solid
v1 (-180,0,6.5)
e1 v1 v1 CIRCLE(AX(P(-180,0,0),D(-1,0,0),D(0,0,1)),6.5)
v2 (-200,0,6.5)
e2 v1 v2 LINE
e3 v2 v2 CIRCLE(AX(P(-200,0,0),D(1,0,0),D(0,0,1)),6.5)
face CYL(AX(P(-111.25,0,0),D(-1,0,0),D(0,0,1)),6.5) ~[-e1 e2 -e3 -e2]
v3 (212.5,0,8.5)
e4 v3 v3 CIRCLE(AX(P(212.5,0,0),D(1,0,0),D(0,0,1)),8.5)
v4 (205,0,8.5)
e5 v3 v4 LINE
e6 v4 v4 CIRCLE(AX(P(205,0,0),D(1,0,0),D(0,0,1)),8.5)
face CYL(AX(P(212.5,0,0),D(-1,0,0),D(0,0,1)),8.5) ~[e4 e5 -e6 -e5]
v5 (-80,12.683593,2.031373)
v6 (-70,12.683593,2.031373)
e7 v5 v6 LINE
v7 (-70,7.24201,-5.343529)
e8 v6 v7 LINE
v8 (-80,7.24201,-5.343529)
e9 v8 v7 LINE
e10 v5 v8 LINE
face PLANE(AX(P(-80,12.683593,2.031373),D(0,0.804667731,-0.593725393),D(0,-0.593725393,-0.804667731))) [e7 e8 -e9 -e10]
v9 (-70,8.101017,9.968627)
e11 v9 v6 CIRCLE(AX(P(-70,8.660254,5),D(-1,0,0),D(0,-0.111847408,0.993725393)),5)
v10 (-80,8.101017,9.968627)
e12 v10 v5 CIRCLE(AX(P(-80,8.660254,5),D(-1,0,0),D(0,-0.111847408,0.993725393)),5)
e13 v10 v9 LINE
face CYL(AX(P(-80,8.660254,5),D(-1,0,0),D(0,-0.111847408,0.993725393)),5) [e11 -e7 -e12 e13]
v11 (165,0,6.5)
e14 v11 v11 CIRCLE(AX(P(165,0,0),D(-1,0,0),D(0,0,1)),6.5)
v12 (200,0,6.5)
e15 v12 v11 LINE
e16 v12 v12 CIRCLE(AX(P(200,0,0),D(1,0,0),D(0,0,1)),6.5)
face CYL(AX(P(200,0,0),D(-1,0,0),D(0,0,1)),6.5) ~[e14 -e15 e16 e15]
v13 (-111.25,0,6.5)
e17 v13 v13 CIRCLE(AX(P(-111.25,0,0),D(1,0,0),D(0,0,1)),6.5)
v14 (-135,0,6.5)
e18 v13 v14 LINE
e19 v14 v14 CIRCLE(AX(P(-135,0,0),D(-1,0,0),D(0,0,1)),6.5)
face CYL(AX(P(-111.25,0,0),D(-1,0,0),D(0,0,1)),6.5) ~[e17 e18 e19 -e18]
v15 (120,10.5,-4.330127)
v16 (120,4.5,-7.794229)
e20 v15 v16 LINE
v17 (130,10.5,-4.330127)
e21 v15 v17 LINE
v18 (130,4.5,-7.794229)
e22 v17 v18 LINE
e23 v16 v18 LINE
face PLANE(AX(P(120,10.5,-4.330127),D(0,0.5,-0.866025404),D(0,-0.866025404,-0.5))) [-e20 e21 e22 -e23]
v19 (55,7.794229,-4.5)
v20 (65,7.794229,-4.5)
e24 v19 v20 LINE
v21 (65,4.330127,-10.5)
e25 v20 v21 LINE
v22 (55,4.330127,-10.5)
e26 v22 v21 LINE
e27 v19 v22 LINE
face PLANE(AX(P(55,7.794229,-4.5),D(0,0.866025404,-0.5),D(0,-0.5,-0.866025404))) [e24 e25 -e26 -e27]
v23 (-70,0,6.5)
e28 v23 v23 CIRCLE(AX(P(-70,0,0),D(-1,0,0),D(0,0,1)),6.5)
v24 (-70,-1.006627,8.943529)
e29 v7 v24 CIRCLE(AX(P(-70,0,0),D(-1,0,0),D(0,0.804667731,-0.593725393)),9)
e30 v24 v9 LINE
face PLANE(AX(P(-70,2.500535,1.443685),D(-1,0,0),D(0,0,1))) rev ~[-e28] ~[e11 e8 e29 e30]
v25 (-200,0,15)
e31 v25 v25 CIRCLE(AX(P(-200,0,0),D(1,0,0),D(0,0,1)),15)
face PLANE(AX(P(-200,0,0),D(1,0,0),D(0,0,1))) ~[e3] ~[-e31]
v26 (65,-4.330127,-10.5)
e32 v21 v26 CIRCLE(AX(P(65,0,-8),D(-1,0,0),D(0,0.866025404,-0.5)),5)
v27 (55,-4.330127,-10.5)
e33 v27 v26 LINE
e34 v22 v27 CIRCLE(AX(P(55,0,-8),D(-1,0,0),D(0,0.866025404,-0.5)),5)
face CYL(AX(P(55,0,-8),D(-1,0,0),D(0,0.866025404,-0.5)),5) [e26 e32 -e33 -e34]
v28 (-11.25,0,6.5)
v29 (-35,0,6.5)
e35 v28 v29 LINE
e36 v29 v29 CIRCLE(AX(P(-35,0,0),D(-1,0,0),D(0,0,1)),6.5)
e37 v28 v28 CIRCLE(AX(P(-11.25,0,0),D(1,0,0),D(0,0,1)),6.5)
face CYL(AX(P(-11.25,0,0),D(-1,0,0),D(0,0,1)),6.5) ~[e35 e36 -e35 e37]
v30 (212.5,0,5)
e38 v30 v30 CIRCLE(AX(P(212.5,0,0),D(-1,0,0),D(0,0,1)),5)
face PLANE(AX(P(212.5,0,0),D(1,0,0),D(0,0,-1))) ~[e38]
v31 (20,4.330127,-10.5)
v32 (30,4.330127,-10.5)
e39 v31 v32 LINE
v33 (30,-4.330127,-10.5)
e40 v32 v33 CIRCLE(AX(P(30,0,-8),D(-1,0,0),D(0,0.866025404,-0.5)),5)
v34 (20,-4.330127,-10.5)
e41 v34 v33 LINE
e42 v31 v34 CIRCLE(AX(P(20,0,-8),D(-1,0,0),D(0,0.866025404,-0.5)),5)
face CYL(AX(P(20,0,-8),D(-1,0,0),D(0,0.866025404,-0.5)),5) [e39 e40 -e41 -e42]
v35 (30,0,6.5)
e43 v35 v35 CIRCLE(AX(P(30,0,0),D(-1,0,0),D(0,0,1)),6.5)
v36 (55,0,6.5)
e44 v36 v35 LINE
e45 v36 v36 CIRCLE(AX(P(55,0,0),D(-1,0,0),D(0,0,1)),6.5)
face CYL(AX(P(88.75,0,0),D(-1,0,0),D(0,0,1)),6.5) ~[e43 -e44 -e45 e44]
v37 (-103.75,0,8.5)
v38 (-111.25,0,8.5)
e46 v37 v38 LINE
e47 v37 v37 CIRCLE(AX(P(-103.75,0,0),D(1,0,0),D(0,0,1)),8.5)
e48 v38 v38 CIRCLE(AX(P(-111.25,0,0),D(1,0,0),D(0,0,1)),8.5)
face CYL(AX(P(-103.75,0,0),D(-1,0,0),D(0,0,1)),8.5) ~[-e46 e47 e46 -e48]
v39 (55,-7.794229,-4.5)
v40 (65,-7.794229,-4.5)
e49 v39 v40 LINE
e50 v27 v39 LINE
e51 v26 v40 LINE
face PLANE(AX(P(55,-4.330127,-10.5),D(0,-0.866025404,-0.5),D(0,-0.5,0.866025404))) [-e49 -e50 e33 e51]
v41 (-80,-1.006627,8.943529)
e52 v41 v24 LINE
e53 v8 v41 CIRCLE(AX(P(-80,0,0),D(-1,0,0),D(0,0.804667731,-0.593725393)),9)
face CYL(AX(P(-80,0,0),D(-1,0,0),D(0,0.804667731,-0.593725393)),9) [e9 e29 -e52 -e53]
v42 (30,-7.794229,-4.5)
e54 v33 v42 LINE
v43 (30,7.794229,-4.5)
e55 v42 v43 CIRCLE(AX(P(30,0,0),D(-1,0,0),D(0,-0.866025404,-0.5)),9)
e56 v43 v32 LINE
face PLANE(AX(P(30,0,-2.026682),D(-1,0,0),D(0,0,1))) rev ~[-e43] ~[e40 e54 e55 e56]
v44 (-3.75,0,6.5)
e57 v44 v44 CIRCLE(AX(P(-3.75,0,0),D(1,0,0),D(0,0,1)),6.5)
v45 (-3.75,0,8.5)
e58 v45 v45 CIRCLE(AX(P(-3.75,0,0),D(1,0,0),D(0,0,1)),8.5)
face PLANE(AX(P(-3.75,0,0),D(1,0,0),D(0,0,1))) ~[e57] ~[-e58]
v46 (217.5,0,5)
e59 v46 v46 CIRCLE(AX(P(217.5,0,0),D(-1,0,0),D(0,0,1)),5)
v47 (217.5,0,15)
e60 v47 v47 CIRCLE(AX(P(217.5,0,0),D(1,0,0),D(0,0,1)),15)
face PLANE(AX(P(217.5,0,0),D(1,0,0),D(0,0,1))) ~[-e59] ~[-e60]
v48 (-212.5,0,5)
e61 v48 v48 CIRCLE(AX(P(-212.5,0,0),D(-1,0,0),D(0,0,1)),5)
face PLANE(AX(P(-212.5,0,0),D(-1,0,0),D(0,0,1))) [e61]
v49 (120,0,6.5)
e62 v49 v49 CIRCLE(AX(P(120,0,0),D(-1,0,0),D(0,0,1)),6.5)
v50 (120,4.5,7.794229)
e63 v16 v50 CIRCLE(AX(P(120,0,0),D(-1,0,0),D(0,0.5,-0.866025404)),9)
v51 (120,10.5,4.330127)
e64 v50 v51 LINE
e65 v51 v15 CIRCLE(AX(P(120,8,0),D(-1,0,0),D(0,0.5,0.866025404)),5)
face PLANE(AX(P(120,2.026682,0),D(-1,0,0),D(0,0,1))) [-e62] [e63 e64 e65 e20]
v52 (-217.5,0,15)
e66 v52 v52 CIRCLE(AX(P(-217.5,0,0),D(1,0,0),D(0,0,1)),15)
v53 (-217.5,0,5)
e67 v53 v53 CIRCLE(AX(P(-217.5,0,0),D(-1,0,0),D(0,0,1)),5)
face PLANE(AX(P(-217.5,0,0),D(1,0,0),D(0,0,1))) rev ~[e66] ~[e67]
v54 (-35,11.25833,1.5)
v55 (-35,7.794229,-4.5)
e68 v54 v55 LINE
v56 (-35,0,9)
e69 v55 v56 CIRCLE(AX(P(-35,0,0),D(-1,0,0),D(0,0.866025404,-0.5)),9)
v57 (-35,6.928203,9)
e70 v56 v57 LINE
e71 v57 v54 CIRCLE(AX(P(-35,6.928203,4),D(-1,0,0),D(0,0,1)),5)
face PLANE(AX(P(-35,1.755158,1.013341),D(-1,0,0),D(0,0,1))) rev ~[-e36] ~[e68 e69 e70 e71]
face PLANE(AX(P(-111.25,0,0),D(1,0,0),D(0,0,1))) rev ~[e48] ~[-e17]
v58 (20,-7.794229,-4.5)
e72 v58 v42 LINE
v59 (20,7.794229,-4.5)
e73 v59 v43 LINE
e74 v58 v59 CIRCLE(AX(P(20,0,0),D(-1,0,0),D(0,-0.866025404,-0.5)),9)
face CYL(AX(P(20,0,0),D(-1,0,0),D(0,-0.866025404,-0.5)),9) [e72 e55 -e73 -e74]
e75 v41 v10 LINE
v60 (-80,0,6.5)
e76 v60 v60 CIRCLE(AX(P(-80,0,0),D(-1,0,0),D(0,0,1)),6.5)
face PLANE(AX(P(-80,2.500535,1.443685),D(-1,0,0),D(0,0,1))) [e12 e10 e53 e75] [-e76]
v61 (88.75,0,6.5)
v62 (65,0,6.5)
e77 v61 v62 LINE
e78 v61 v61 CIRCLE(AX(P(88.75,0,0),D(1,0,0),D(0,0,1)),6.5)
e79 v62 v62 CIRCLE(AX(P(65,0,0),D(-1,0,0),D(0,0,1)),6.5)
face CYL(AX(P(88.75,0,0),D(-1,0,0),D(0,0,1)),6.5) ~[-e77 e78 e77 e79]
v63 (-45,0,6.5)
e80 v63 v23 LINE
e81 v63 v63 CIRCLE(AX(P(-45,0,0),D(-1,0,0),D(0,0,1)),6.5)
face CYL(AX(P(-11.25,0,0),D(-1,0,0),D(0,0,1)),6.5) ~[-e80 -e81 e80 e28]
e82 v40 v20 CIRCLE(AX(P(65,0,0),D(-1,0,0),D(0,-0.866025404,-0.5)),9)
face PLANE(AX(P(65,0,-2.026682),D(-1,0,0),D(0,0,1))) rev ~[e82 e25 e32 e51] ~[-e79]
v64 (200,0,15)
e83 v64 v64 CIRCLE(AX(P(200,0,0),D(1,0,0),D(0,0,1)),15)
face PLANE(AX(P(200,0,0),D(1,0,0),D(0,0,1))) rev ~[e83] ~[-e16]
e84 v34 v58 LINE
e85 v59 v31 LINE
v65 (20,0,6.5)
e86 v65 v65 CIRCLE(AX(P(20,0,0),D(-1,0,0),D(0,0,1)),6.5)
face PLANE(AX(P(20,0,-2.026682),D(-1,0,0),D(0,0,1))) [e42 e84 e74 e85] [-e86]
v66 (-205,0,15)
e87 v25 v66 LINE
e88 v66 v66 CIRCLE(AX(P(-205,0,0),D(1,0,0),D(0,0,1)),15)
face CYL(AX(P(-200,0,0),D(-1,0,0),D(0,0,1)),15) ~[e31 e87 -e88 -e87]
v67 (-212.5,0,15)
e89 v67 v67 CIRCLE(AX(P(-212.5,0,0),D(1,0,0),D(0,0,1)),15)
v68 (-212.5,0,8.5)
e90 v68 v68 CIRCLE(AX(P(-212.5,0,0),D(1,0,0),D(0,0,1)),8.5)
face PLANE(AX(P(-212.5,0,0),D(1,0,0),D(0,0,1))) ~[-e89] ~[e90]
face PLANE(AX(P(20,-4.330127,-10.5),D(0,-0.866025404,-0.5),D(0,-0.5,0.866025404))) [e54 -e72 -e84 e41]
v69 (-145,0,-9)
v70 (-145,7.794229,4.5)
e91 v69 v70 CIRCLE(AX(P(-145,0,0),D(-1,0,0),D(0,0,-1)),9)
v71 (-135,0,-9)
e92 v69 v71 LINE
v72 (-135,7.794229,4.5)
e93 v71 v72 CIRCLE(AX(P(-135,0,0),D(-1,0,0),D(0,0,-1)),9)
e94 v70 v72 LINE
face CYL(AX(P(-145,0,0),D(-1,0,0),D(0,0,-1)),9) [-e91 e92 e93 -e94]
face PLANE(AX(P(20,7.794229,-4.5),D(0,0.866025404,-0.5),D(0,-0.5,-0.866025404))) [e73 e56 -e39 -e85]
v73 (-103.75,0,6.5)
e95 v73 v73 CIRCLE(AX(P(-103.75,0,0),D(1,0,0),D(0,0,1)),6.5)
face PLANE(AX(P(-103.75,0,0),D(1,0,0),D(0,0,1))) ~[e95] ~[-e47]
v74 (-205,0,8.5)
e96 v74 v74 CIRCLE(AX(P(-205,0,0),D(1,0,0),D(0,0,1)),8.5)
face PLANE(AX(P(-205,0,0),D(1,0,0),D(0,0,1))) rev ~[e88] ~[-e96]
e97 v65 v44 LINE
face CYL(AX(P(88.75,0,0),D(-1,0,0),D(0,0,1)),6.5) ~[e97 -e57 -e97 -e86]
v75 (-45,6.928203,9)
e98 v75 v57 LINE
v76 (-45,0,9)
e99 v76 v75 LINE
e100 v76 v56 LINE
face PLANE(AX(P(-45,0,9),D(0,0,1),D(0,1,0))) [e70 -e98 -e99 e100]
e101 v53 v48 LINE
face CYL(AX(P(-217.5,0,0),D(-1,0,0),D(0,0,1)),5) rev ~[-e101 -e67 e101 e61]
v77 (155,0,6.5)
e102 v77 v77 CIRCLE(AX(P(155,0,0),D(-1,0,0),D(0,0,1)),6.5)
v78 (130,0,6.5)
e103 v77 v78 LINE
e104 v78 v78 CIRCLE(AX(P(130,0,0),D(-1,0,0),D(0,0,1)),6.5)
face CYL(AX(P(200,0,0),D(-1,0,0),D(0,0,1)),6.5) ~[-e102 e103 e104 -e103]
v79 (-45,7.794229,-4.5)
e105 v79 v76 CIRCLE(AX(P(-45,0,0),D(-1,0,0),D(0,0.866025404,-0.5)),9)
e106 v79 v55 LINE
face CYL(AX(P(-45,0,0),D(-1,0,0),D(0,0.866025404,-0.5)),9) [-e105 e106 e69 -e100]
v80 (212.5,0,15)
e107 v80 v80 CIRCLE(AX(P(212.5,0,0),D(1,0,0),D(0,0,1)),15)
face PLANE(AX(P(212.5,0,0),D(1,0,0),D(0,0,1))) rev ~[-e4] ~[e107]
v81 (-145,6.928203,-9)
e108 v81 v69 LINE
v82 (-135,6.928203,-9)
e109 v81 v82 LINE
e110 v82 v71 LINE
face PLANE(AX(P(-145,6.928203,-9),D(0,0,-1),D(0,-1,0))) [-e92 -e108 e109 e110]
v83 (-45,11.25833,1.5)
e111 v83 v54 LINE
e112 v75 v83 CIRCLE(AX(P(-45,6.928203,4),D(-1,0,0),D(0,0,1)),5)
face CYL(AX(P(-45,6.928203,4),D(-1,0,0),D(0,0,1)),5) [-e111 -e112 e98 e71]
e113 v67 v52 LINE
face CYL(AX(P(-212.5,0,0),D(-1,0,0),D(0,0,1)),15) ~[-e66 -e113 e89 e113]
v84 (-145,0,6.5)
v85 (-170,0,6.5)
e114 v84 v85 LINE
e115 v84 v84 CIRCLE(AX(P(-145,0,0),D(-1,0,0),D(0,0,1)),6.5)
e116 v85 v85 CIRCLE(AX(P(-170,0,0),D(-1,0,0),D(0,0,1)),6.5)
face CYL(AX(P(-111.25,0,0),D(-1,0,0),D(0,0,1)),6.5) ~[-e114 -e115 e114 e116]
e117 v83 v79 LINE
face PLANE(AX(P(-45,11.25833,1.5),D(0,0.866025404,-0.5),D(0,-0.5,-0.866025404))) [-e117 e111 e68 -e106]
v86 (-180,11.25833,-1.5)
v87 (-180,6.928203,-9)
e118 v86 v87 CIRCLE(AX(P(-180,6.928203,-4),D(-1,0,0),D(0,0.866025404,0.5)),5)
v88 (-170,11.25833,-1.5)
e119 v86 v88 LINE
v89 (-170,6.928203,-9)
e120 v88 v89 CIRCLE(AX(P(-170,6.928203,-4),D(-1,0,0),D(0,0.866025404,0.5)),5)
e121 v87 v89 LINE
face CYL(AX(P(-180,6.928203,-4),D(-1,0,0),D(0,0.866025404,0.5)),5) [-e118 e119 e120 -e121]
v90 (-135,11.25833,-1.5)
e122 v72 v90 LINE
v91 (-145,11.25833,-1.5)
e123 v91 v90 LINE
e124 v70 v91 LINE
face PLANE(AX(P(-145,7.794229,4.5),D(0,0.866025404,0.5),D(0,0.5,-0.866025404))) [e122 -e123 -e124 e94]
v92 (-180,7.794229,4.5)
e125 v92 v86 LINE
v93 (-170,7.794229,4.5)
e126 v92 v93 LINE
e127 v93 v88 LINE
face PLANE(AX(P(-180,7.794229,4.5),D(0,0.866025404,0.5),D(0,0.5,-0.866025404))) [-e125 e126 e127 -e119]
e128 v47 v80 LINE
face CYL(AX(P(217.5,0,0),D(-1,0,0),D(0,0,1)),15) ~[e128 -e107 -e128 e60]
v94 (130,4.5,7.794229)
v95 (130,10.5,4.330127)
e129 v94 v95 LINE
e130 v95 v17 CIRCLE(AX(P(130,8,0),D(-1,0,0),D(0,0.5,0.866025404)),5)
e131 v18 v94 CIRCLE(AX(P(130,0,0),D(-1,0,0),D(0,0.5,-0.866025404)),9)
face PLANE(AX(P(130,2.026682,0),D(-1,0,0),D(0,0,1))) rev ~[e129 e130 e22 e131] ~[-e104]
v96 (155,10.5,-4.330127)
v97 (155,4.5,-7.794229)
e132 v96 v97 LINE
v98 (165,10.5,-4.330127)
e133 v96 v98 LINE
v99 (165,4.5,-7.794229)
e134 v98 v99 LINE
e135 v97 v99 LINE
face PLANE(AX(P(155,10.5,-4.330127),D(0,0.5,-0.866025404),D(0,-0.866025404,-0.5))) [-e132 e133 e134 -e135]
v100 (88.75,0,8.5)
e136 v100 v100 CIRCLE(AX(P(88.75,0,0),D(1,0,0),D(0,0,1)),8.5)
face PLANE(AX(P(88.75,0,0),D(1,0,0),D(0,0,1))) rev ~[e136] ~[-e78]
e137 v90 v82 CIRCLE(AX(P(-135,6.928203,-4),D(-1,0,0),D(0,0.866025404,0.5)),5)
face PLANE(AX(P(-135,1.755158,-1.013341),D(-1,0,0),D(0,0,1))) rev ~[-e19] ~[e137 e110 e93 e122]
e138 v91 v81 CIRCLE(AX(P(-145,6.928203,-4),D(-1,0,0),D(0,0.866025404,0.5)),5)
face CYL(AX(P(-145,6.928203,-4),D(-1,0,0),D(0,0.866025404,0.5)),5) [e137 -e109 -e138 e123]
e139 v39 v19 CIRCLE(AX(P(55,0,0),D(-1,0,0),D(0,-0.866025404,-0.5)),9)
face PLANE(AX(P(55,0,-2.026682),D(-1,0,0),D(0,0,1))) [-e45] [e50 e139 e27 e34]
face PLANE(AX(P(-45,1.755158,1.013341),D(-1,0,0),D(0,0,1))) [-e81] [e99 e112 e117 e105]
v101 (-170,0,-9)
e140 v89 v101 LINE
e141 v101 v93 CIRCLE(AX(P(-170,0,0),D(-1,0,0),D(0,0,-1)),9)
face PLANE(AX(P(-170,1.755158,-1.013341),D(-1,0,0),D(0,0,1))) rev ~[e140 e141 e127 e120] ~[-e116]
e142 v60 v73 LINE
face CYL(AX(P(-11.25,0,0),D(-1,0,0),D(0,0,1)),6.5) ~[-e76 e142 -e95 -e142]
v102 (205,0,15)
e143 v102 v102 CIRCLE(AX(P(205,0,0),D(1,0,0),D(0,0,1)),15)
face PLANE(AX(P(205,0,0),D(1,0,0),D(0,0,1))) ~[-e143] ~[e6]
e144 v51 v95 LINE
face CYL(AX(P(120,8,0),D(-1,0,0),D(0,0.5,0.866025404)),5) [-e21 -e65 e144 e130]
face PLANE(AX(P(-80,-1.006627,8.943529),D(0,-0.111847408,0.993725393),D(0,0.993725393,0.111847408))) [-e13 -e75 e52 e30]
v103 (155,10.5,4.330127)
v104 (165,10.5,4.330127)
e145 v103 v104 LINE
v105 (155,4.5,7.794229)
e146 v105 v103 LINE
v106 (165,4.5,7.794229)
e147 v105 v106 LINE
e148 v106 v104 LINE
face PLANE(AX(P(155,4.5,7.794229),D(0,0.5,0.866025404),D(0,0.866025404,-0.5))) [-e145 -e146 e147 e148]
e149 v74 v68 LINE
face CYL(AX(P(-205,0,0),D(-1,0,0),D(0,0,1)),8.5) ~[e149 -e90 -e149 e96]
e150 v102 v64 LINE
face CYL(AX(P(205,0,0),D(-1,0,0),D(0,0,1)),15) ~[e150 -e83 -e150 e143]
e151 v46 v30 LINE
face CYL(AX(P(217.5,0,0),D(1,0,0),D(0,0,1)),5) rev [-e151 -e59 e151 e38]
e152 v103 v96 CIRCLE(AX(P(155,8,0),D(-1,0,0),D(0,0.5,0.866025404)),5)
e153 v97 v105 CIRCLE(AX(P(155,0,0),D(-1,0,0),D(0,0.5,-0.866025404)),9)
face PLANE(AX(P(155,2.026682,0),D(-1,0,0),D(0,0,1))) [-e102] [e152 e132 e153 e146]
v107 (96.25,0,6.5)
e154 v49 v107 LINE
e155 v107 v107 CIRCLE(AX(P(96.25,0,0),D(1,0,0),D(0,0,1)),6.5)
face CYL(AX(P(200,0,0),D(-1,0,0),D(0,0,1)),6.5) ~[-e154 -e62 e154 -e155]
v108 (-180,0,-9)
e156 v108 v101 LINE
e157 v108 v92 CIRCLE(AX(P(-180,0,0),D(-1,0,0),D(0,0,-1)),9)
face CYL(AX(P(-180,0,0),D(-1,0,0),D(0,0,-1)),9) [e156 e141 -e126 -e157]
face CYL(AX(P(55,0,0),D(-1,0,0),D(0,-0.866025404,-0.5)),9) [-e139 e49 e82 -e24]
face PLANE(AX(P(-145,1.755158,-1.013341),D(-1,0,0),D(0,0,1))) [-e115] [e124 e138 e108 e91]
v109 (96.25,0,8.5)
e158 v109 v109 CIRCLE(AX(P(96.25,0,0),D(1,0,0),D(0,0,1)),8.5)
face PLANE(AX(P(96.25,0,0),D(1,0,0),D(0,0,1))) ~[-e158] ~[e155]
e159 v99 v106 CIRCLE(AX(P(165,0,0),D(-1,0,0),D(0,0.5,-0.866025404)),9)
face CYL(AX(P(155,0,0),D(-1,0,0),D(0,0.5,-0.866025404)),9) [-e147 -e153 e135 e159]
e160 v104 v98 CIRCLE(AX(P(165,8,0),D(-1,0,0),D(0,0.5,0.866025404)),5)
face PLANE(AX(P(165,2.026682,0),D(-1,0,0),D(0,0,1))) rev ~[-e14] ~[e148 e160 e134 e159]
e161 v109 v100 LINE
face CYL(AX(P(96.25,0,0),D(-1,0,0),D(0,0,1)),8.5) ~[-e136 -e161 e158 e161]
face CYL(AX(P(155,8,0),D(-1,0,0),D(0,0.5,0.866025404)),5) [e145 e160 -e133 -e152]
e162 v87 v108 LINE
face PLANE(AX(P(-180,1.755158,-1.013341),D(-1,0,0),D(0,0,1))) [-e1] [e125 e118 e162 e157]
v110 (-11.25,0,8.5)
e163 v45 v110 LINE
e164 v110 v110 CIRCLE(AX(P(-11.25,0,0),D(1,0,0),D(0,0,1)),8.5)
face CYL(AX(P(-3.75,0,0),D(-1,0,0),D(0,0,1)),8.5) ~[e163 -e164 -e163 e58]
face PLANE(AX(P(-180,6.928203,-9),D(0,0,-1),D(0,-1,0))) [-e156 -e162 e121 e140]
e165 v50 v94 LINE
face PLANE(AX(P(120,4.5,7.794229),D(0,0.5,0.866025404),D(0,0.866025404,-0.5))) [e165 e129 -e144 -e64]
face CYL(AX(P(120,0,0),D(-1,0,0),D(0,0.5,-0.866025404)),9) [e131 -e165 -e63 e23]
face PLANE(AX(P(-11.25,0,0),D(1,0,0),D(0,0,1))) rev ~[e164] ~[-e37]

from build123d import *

# Parameters (mm, degrees)
BOSS_EXTRUDE1_DEPTH      = 5
BOSS_EXTRUDE1_DEPTH_BACK = 5
BOSS_EXTRUDE2_DEPTH      = 5
BOSS_EXTRUDE2_DEPTH_BACK = 5
BOSS_EXTRUDE3_DEPTH      = 5
BOSS_EXTRUDE3_DEPTH_BACK = 5
BOSS_EXTRUDE4_DEPTH      = 5
BOSS_EXTRUDE4_DEPTH_BACK = 5
BOSS_EXTRUDE5_DEPTH      = 5
BOSS_EXTRUDE5_DEPTH_BACK = 5
BOSS_EXTRUDE6_DEPTH      = 5
BOSS_EXTRUDE6_DEPTH_BACK = 5
BOSS_EXTRUDE7_DEPTH      = 5
BOSS_EXTRUDE7_DEPTH_BACK = 5
BOSS_EXTRUDE8_DEPTH      = 5
BOSS_EXTRUDE8_DEPTH_BACK = 5
SKETCH12_R               = 5
CUT_EXTRUDE1_DEPTH       = 5


with BuildPart() as part:
    # Sketch2 → Revolve1 (revolve)
    with BuildSketch(Plane(origin=(0, 0, 0), x_dir=(1, 0, 0), z_dir=(0, 1, 0)), mode=Mode.PRIVATE) as revolve1_sk:
        Polygon((-217.5, 0), (217.5, 0), (217.5, 15), (212.5, 15), (212.5, 8.5), (205, 8.5), (205, 15), (200, 15), (200, 6.5), (96.25, 6.5), (96.25, 8.5), (88.75, 8.5), (88.75, 6.5), (-3.75, 6.5), (-3.75, 8.5), (-11.25, 8.5), (-11.25, 6.5), (-103.75, 6.5), (-103.75, 8.5), (-111.25, 8.5), (-111.25, 6.5), (-200, 6.5), (-200, 15), (-205, 15), (-205, 8.5), (-212.5, 8.5), (-212.5, 15), (-217.5, 15), (-217.5, 6.5), align=None)
    revolve(revolve1_sk.sketch.rotate(Axis((-217.5, 0, 0), (1, 0, 0)), 180), axis=Axis((-217.5, 0, 0), (1, 0, 0)))

    # Sketch4 → Boss-Extrude1 (add, two sides: drawn at the far end of the back side and taken through both)
    with BuildSketch(Plane(origin=(-175, 0, 0), x_dir=(0, 0, -1), z_dir=(1, 0, 0)).offset(-BOSS_EXTRUDE1_DEPTH_BACK)):
        with BuildLine():
            Line((-4.5, 7.794228634), (1.5, 11.258330249))
            ThreePointArc((1.5, 11.258330249), (6.5, 11.258330249), (9, 6.92820323))
            Line((9, 6.92820323), (9, 0))
            ThreePointArc((9, 0), (-4.5, -7.794228634), (-4.5, 7.794228634))
        make_face()
    extrude(amount=BOSS_EXTRUDE1_DEPTH + BOSS_EXTRUDE1_DEPTH_BACK)

    # Sketch5 → Boss-Extrude2 (add, two sides: drawn at the far end of the back side and taken through both)
    with BuildSketch(Plane(origin=(-140, 0, 0), x_dir=(0, 0, -1), z_dir=(1, 0, 0)).offset(-BOSS_EXTRUDE2_DEPTH_BACK)):
        with BuildLine():
            Line((-4.5, 7.794228634), (1.5, 11.258330249))
            ThreePointArc((1.5, 11.258330249), (6.5, 11.258330249), (9, 6.92820323))
            Line((9, 6.92820323), (9, 0))
            ThreePointArc((9, 0), (-4.5, -7.794228634), (-4.5, 7.794228634))
        make_face()
    extrude(amount=BOSS_EXTRUDE2_DEPTH + BOSS_EXTRUDE2_DEPTH_BACK)

    # Sketch6 → Boss-Extrude3 (add, two sides: drawn at the far end of the back side and taken through both)
    with BuildSketch(Plane(origin=(-75, 0, 0), x_dir=(0, 0, -1), z_dir=(1, 0, 0)).offset(-BOSS_EXTRUDE3_DEPTH_BACK)):
        with BuildLine():
            Line((-8.94352854, -1.006626672), (-9.968626967, 8.101016998))
            ThreePointArc((-9.968626967, 8.101016998), (-7.5, 12.990381057), (-2.031373033, 12.683592693))
            Line((-2.031373033, 12.683592693), (5.34352854, 7.242009579))
            ThreePointArc((5.34352854, 7.242009579), (4.5, -7.794228634), (-8.94352854, -1.006626672))
        make_face()
    extrude(amount=BOSS_EXTRUDE3_DEPTH + BOSS_EXTRUDE3_DEPTH_BACK)

    # Sketch7 → Boss-Extrude4 (add, two sides: drawn at the far end of the back side and taken through both)
    with BuildSketch(Plane(origin=(-40, 0, 0), x_dir=(0, 0, -1), z_dir=(1, 0, 0)).offset(-BOSS_EXTRUDE4_DEPTH_BACK)):
        with BuildLine():
            Line((-9, 0), (-9, 6.92820323))
            ThreePointArc((-9, 6.92820323), (-6.5, 11.258330249), (-1.5, 11.258330249))
            Line((-1.5, 11.258330249), (4.5, 7.794228634))
            ThreePointArc((4.5, 7.794228634), (4.5, -7.794228634), (-9, 0))
        make_face()
    extrude(amount=BOSS_EXTRUDE4_DEPTH + BOSS_EXTRUDE4_DEPTH_BACK)

    # Sketch8 → Boss-Extrude5 (add, two sides: drawn at the far end of the back side and taken through both)
    with BuildSketch(Plane(origin=(25, 0, 0), x_dir=(0, 0, -1), z_dir=(1, 0, 0)).offset(-BOSS_EXTRUDE5_DEPTH_BACK)):
        with BuildLine():
            Line((4.5, 7.794228634), (10.5, 4.330127019))
            ThreePointArc((10.5, 4.330127019), (13, 0), (10.5, -4.330127019))
            Line((10.5, -4.330127019), (4.5, -7.794228634))
            ThreePointArc((4.5, -7.794228634), (-9, 0), (4.5, 7.794228634))
        make_face()
    extrude(amount=BOSS_EXTRUDE5_DEPTH + BOSS_EXTRUDE5_DEPTH_BACK)

    # Sketch9 → Boss-Extrude6 (add, two sides: drawn at the far end of the back side and taken through both)
    with BuildSketch(Plane(origin=(60, 0, 0), x_dir=(0, 0, -1), z_dir=(1, 0, 0)).offset(-BOSS_EXTRUDE6_DEPTH_BACK)):
        with BuildLine():
            Line((4.5, 7.794228634), (10.5, 4.330127019))
            ThreePointArc((10.5, 4.330127019), (13, 0), (10.5, -4.330127019))
            Line((10.5, -4.330127019), (4.5, -7.794228634))
            ThreePointArc((4.5, -7.794228634), (-9, 0), (4.5, 7.794228634))
        make_face()
    extrude(amount=BOSS_EXTRUDE6_DEPTH + BOSS_EXTRUDE6_DEPTH_BACK)

    # Sketch10 → Boss-Extrude7 (add, two sides: drawn at the far end of the back side and taken through both)
    with BuildSketch(Plane(origin=(125, 0, 0), x_dir=(0, 0, -1), z_dir=(1, 0, 0)).offset(-BOSS_EXTRUDE7_DEPTH_BACK)):
        with BuildLine():
            Line((-7.794228634, 4.5), (-4.330127019, 10.5))
            ThreePointArc((-4.330127019, 10.5), (0, 13), (4.330127019, 10.5))
            Line((4.330127019, 10.5), (7.794228634, 4.5))
            ThreePointArc((7.794228634, 4.5), (0, -9), (-7.794228634, 4.5))
        make_face()
    extrude(amount=BOSS_EXTRUDE7_DEPTH + BOSS_EXTRUDE7_DEPTH_BACK)

    # Sketch11 → Boss-Extrude8 (add, two sides: drawn at the far end of the back side and taken through both)
    with BuildSketch(Plane(origin=(160, 0, 0), x_dir=(0, 0, -1), z_dir=(1, 0, 0)).offset(-BOSS_EXTRUDE8_DEPTH_BACK)):
        with BuildLine():
            Line((-7.794228634, 4.5), (-4.330127019, 10.5))
            ThreePointArc((-4.330127019, 10.5), (0, 13), (4.330127019, 10.5))
            Line((4.330127019, 10.5), (7.794228634, 4.5))
            ThreePointArc((7.794228634, 4.5), (0, -9), (-7.794228634, 4.5))
        make_face()
    extrude(amount=BOSS_EXTRUDE8_DEPTH + BOSS_EXTRUDE8_DEPTH_BACK)

    # Sketch12 → Cut-Extrude1 (cut)
    with BuildSketch(Plane.ZY.offset(217.5)):
        Circle(SKETCH12_R)
    cut_extrude1 = extrude(amount=-CUT_EXTRUDE1_DEPTH, mode=Mode.SUBTRACT)

    # Mirror1: Cut-Extrude1 across plane
    add(cut_extrude1.mirror(Plane(origin=(0, 0, 0), x_dir=(0, 0, 1), z_dir=(1, 0, 0))), mode=Mode.SUBTRACT)


solid = part.part
